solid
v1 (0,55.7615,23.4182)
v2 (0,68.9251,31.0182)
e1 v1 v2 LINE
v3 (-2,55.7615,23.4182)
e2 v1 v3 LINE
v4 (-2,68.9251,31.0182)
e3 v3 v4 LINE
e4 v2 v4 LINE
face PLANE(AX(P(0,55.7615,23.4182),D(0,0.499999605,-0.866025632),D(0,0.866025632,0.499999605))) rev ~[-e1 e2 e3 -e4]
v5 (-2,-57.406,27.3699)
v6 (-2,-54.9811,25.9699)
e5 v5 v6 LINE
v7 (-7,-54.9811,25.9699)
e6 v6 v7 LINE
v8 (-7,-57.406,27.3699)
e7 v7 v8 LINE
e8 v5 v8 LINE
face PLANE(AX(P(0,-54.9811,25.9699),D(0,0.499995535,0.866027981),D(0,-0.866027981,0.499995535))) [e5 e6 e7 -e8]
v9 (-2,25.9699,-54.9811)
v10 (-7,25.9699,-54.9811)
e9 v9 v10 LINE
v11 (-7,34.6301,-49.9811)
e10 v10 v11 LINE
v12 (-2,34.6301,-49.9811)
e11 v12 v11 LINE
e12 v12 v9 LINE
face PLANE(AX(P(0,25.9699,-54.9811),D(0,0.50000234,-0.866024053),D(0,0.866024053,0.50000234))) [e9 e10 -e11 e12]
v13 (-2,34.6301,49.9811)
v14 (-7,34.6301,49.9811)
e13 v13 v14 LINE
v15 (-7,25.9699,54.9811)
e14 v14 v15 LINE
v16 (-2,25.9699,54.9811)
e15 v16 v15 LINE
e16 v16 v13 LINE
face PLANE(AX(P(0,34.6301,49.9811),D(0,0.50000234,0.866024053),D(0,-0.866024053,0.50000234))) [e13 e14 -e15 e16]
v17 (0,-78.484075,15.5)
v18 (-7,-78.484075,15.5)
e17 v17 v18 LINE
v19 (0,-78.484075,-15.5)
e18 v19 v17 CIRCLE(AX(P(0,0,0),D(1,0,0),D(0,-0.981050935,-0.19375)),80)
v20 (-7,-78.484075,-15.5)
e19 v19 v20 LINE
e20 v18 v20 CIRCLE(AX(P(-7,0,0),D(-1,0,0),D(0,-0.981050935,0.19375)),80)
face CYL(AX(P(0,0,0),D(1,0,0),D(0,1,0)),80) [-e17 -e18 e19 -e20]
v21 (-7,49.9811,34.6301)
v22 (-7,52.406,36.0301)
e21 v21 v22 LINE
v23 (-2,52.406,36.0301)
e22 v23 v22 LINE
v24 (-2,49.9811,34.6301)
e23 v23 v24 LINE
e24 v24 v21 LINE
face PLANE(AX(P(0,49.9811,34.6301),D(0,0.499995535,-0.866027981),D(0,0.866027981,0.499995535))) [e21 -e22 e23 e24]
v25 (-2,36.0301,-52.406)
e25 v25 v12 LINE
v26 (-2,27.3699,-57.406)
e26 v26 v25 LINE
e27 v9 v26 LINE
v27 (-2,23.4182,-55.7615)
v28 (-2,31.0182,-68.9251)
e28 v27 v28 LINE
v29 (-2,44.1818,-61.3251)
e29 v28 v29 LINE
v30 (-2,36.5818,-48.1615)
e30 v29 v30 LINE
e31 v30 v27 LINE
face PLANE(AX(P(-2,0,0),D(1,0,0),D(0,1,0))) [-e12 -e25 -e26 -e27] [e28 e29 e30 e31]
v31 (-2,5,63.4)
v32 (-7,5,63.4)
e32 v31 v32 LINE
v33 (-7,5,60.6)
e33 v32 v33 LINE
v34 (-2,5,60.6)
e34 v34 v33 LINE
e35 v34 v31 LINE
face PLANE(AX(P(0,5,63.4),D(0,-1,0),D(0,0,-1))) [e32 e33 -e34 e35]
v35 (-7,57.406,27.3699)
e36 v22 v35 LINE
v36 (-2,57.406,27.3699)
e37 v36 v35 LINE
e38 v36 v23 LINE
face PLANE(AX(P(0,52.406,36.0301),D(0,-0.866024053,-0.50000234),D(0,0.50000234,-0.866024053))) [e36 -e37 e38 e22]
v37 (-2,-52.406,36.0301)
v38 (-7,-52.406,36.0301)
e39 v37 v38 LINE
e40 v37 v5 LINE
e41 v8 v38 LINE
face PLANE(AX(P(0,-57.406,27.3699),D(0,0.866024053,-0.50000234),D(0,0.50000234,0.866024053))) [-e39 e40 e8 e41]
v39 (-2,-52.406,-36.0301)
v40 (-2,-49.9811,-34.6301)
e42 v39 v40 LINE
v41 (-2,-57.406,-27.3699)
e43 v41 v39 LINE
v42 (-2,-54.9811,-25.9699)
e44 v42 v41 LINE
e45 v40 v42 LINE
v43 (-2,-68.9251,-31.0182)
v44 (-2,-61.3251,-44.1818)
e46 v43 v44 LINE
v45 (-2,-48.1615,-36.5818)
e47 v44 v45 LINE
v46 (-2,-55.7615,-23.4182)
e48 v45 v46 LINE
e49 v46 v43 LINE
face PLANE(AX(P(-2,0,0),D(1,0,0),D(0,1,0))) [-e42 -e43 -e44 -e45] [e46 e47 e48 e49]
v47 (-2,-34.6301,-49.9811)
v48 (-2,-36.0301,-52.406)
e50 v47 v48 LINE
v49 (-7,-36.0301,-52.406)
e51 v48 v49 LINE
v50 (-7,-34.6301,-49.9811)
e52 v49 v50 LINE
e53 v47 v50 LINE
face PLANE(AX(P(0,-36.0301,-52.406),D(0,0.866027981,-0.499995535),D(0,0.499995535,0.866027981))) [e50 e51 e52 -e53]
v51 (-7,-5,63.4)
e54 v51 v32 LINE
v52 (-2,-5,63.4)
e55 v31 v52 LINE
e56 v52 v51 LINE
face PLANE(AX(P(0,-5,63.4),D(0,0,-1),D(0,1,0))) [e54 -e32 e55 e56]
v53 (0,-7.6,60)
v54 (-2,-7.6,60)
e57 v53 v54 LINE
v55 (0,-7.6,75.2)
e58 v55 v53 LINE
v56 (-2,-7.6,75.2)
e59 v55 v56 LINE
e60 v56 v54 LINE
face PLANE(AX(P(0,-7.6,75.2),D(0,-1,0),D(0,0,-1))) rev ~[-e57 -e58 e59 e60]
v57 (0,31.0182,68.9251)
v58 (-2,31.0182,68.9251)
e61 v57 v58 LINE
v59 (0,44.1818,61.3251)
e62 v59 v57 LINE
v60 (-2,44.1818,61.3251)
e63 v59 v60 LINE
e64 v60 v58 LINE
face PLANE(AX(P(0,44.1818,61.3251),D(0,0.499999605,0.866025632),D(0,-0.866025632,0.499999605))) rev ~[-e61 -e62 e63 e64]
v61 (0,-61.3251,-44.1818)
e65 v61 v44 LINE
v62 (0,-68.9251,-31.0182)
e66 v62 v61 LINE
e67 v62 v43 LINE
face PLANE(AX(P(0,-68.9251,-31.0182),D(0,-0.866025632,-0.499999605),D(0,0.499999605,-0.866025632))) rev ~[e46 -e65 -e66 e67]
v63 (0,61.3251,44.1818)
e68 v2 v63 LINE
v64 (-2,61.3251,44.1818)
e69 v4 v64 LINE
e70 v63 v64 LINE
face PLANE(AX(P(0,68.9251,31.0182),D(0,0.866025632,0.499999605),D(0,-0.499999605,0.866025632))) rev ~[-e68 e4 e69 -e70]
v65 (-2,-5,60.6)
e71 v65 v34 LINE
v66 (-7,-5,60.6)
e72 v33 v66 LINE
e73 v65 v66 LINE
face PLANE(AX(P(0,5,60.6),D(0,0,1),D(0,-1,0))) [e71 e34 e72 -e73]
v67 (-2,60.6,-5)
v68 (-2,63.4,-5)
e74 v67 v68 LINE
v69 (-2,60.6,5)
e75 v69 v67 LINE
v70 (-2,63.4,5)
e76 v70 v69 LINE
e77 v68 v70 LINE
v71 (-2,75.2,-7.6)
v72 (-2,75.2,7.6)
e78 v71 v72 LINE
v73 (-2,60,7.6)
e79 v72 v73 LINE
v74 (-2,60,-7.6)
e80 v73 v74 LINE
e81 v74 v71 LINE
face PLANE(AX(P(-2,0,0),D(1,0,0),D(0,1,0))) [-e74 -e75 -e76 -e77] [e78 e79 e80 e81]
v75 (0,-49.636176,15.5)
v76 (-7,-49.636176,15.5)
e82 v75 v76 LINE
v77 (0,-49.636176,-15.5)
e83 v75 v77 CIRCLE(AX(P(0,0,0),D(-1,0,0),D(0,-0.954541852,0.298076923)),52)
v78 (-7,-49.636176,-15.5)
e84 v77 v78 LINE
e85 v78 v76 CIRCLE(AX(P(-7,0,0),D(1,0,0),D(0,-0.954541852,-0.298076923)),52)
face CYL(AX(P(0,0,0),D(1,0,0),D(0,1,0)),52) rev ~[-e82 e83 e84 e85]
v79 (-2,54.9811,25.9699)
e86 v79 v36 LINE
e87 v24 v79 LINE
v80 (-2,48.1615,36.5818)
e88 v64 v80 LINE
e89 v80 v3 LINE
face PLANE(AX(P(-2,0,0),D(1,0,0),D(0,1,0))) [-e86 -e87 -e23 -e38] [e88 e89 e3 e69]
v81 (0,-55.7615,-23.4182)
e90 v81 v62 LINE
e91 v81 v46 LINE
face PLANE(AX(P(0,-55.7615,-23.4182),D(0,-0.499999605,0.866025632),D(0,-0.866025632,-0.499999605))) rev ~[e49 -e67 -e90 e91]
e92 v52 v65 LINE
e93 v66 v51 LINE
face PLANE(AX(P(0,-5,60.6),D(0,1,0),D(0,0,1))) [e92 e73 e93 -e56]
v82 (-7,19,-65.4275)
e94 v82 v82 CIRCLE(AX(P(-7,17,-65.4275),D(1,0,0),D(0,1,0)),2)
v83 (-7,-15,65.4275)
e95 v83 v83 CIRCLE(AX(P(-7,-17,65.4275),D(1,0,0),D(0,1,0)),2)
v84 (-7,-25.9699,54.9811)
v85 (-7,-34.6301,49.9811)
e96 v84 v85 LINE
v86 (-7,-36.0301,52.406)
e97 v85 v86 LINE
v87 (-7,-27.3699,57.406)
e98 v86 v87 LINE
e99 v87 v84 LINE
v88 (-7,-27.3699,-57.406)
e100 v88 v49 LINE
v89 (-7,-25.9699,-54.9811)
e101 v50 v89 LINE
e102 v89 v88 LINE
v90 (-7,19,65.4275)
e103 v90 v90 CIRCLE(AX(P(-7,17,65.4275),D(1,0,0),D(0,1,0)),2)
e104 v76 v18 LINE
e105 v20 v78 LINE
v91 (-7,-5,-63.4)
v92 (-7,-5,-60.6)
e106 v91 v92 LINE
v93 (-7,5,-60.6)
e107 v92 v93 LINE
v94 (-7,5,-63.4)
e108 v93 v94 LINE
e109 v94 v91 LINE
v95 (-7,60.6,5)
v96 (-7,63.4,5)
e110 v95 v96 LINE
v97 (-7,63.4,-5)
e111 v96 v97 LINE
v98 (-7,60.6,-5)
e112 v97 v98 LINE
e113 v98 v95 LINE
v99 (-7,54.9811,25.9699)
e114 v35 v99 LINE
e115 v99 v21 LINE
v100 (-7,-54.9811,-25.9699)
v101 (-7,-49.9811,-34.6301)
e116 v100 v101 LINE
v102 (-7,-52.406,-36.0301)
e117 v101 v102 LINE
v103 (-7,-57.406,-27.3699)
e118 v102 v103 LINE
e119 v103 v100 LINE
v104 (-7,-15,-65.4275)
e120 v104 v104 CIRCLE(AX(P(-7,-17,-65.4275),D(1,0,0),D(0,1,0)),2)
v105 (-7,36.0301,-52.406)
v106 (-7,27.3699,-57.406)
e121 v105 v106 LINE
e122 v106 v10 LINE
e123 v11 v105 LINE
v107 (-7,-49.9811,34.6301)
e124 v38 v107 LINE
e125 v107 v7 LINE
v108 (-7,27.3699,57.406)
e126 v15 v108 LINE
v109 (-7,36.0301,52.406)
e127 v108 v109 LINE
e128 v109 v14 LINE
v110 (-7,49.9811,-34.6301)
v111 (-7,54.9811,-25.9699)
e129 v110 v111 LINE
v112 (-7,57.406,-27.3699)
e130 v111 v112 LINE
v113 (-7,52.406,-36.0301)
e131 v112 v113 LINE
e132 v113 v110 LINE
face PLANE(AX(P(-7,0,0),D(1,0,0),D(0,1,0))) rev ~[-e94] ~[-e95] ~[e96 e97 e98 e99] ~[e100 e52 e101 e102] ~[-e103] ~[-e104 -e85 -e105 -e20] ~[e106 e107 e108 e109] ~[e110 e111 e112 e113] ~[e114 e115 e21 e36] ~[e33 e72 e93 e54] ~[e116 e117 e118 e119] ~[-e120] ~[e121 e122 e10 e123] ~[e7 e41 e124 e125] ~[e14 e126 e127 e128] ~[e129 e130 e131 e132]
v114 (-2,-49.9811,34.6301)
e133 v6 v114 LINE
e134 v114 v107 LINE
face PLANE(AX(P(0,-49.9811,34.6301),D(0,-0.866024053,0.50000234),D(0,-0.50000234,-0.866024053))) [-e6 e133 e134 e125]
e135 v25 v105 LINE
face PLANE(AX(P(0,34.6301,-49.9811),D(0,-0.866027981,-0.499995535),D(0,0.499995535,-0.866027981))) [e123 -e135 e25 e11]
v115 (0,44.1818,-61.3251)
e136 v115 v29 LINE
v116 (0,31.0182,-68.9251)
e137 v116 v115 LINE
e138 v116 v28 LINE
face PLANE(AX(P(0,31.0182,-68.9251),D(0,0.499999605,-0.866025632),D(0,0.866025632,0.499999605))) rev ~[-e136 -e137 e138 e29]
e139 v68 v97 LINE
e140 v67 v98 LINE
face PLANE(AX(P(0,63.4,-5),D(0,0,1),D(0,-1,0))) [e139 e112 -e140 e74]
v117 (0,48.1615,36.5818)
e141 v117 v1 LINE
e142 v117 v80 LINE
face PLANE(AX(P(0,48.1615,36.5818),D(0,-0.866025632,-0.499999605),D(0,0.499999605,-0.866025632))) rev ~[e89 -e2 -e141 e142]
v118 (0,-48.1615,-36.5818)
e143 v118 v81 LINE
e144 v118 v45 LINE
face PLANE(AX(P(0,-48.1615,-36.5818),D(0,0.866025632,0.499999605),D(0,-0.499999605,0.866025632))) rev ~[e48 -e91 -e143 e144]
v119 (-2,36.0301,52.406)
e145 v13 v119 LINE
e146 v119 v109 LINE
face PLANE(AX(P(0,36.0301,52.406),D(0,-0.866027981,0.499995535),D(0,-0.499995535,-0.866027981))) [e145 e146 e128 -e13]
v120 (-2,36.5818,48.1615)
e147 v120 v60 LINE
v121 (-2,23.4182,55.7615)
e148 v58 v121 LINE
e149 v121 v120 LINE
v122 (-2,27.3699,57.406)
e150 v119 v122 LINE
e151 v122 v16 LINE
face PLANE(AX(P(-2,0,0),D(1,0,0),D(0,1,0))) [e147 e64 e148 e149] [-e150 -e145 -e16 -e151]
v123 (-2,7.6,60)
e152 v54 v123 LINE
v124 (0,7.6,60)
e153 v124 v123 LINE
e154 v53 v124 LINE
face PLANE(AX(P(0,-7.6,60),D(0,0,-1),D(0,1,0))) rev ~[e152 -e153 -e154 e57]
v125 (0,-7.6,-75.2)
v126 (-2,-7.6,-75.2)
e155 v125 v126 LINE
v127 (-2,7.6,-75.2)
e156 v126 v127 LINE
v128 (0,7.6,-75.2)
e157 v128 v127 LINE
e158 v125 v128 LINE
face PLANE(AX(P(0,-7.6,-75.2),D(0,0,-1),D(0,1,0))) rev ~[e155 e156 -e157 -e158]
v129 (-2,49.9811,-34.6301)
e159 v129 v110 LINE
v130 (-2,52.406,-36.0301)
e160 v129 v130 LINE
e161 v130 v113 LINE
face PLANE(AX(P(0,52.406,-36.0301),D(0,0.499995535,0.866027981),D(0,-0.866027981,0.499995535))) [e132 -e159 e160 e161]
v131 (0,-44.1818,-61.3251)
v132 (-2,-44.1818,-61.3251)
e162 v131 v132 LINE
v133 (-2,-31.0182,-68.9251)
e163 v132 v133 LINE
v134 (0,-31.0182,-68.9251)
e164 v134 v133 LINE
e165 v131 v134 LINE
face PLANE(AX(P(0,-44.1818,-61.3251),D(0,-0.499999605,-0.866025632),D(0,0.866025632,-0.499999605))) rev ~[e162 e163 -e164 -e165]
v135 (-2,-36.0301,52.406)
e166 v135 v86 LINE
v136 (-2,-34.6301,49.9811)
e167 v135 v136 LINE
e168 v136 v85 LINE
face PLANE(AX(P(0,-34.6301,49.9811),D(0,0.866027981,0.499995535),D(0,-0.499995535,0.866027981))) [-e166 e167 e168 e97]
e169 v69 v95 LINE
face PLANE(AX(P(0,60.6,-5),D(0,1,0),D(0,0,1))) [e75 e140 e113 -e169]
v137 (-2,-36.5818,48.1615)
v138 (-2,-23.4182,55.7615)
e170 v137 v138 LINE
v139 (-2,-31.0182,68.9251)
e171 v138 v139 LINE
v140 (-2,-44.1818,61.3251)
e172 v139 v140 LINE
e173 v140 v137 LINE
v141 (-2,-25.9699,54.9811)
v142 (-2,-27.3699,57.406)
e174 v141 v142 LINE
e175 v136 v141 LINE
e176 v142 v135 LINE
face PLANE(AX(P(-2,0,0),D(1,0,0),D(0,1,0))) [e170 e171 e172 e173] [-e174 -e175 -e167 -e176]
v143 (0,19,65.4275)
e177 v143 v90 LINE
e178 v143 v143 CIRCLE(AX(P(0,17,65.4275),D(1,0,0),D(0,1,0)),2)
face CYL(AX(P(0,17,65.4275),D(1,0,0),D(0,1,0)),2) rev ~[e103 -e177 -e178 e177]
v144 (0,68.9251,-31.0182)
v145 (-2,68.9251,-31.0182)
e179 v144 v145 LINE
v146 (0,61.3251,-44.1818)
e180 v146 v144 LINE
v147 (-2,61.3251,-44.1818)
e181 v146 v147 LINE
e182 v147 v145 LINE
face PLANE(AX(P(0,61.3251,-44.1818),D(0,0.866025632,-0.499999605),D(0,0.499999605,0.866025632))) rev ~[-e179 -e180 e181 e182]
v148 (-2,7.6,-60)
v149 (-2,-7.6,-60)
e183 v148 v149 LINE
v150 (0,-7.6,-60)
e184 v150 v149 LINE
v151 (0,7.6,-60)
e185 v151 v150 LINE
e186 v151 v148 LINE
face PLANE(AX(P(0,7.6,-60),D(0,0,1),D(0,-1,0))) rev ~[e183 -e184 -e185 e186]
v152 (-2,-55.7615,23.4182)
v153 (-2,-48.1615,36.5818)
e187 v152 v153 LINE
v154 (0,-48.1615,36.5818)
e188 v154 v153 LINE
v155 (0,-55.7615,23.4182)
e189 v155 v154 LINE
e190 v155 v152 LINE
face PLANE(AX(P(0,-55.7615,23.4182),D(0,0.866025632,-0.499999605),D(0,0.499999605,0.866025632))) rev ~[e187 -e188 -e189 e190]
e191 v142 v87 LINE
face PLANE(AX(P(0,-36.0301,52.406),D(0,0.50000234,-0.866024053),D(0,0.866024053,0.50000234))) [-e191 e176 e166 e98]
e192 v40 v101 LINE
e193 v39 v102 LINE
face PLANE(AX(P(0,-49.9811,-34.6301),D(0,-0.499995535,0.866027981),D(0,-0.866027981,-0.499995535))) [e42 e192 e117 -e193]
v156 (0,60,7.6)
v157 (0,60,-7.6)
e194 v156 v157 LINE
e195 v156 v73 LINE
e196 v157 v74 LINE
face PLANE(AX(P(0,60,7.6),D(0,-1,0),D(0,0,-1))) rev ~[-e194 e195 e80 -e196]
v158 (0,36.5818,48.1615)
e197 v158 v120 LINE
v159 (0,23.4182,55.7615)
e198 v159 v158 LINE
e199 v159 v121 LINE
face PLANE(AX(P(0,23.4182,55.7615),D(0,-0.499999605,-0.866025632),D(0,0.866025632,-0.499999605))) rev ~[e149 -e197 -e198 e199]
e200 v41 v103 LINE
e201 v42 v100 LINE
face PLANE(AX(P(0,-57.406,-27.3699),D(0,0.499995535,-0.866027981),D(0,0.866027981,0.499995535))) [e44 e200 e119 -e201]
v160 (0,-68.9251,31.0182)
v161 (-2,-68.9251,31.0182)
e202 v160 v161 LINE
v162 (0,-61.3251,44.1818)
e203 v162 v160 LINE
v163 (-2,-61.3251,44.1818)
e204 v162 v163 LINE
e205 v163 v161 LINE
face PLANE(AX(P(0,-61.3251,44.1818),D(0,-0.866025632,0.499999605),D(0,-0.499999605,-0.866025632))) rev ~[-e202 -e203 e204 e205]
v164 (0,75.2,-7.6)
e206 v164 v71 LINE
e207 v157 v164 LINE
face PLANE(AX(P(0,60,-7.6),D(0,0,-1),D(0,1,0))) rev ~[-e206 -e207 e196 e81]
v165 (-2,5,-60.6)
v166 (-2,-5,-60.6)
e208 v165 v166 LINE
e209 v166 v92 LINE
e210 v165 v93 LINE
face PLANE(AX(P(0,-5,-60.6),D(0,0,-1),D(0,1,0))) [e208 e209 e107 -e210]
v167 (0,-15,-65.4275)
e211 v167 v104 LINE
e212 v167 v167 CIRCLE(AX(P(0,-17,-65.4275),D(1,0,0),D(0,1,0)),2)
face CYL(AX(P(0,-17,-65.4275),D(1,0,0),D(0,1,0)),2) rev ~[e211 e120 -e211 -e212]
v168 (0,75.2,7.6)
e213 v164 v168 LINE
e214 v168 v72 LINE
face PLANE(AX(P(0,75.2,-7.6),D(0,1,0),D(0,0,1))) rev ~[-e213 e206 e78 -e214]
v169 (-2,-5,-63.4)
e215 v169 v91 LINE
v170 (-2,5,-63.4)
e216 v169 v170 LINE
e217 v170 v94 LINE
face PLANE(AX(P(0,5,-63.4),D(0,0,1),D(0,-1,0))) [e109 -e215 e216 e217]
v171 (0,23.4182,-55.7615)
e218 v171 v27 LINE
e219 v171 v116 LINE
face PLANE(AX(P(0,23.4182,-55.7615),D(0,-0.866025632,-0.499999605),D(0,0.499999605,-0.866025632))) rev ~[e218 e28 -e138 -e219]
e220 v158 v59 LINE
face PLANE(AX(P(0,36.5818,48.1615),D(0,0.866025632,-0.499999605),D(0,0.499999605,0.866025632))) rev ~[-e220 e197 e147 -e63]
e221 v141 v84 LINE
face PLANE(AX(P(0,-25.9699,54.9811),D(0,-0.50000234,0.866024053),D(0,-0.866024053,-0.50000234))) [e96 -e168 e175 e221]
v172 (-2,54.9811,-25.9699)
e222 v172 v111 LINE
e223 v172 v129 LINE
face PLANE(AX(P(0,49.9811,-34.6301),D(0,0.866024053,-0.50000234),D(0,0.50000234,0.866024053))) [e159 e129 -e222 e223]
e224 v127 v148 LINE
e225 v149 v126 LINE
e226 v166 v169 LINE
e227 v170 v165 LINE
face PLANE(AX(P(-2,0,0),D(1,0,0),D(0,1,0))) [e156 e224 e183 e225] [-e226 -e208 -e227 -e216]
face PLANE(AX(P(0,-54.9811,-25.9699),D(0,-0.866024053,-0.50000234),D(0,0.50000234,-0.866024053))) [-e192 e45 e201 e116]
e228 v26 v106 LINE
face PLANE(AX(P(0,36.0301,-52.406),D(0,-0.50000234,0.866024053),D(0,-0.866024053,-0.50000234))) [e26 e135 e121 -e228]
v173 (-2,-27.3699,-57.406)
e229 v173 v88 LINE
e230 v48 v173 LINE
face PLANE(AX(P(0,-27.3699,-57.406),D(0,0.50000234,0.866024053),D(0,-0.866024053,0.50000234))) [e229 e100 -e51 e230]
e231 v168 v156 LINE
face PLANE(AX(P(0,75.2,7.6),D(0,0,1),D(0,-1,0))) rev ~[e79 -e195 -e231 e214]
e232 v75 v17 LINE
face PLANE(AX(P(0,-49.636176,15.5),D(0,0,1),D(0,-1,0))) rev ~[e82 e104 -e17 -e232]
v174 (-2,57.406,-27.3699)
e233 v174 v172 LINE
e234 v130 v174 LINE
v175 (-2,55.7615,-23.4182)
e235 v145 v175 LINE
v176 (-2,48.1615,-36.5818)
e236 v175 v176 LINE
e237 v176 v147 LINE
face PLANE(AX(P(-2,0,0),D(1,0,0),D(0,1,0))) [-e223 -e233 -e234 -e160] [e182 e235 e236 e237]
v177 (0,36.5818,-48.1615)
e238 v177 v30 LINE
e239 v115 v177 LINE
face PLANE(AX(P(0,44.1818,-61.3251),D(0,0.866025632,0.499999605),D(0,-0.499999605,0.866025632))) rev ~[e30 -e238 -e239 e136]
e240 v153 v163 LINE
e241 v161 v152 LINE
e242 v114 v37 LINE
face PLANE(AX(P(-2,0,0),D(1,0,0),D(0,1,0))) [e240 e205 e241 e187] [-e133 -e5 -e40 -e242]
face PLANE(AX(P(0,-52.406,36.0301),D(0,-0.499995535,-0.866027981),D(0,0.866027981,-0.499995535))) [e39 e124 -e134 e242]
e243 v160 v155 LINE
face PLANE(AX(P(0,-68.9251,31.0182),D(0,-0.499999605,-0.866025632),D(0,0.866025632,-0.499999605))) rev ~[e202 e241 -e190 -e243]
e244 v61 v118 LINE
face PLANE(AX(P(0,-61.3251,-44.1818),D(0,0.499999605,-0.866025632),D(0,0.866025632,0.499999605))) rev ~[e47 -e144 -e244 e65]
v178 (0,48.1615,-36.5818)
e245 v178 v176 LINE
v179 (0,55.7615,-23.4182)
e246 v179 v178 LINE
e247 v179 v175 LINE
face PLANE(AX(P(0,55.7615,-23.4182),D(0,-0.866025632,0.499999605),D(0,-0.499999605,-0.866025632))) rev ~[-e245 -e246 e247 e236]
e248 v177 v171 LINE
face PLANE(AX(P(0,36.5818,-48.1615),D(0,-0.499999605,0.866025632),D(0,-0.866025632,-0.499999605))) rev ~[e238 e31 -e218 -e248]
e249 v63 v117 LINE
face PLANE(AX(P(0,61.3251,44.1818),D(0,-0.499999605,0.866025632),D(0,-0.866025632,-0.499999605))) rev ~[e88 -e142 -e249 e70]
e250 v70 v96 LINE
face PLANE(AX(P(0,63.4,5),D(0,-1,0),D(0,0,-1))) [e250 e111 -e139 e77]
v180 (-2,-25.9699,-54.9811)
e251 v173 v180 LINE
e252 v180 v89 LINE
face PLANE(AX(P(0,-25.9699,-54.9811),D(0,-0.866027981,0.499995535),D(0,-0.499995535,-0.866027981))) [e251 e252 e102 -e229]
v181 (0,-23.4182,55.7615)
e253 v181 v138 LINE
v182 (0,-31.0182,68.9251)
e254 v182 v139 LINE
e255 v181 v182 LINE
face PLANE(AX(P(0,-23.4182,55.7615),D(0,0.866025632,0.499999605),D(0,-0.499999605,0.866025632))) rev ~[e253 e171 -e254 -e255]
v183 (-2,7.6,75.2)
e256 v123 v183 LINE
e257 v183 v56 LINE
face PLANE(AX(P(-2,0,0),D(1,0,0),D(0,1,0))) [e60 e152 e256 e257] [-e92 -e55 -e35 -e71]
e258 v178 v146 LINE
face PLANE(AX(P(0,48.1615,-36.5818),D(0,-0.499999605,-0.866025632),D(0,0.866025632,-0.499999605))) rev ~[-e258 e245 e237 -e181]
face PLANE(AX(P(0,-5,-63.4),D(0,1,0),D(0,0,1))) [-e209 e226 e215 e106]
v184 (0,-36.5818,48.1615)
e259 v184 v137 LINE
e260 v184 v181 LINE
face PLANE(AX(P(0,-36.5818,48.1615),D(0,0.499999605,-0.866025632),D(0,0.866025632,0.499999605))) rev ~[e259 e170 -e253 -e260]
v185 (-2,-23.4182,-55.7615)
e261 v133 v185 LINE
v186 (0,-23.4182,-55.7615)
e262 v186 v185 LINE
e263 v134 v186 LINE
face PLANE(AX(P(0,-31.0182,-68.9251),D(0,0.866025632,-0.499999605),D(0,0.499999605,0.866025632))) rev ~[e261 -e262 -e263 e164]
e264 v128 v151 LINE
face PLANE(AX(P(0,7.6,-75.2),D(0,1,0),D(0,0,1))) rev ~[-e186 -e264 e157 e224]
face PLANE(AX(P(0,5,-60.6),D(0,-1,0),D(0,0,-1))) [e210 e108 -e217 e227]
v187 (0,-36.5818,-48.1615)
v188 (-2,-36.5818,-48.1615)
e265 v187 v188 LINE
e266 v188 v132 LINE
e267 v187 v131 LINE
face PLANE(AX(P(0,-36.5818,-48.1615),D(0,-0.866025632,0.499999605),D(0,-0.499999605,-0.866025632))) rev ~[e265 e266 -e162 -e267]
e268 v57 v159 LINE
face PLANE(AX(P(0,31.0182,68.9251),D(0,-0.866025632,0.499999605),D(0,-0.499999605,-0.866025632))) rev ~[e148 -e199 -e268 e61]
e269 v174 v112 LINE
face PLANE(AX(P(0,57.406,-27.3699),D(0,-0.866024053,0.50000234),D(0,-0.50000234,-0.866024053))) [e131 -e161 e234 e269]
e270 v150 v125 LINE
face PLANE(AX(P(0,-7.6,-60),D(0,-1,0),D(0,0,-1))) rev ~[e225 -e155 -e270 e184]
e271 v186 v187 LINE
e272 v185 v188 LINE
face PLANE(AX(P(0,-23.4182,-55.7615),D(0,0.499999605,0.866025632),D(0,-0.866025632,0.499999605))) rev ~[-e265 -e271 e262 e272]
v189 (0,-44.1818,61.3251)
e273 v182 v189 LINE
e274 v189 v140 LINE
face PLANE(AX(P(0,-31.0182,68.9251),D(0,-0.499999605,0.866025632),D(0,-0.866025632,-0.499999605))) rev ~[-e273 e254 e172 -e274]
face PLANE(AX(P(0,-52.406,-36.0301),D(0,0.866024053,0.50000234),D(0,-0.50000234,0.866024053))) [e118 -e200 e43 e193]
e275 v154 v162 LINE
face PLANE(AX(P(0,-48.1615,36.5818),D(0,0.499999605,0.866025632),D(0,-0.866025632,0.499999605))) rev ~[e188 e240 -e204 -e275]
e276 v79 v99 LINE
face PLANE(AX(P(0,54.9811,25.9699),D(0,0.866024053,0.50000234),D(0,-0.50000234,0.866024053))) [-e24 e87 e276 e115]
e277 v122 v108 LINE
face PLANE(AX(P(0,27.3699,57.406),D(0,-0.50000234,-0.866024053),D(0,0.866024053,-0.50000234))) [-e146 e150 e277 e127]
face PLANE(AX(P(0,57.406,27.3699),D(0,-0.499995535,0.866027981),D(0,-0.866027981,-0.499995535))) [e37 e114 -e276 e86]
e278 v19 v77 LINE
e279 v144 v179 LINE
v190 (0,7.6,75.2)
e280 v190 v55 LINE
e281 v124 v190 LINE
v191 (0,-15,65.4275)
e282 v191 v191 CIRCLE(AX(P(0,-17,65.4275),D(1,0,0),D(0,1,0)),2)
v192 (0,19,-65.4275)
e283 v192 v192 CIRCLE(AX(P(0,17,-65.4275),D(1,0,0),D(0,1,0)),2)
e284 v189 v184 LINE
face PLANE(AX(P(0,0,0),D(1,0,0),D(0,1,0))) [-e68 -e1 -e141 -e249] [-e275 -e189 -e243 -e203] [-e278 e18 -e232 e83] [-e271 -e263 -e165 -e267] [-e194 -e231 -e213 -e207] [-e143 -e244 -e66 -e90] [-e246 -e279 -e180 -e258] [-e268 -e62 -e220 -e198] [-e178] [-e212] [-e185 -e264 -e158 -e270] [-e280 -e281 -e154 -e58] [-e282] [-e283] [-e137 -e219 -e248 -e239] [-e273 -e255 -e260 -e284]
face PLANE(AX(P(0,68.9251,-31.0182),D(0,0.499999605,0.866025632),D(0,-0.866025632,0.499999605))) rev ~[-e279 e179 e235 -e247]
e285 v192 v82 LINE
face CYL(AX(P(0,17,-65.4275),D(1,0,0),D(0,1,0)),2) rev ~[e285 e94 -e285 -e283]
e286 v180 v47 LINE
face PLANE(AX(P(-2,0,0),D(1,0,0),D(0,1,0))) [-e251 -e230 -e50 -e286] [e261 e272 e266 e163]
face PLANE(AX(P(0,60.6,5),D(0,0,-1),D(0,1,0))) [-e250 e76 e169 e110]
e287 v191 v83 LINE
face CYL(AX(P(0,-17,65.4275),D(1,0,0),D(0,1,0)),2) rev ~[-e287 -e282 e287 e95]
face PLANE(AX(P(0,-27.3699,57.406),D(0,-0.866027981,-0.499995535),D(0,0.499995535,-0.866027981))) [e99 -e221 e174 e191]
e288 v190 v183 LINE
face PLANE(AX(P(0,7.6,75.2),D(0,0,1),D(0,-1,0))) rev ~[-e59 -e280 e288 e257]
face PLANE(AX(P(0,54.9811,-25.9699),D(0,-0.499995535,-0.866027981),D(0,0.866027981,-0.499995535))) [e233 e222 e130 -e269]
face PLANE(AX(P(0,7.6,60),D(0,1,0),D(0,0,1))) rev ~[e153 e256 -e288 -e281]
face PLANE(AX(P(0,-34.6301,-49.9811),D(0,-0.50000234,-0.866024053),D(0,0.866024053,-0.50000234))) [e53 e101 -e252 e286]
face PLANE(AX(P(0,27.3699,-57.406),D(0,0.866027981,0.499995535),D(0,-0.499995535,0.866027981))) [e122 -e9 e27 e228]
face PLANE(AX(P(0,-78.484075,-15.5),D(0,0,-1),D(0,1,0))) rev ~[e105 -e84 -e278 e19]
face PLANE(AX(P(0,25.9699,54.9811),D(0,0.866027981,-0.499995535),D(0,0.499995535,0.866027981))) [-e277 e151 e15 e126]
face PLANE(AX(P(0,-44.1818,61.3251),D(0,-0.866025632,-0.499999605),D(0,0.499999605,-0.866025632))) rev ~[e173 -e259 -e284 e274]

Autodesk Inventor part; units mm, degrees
ref_plane "YZ Plane" through (0, 0, 0) normal (1, 0, 0) x (0, 1, 0)
ref_plane "XZ Plane" through (0, 0, 0) normal (0, 1, 0) x (-1, 0, 0)
ref_plane "XY Plane" through (0, 0, 0) normal (0, 0, 1) x (1, 0, 0)
sketch "Szkic1" plane through (0, 0, 0) normal (1, 0, 0) x (0, 1, 0)
  line L0 (0, -112) -> (0, 112) construction
  line L1 (-112, 0) -> (112, 0) construction
  circle A0 centre (0, 0) radius 67.6 construction
  line L2 (75.2, 7.6) -> (60, 7.6)
  line L3 (60, 7.6) -> (60, -7.6)
  line L4 (60, -7.6) -> (75.2, -7.6)
  line L5 (75.2, -7.6) -> (75.2, 7.6)
  line L6 (75.2, 7.6) -> (60, -7.6) construction
  line L7 (60, 7.6) -> (75.2, -7.6) construction
  circle A1 centre (0, 0) radius 80
  line L8 (61.3251, 44.1818) -> (48.1615, 36.5818)
  line L9 (48.1615, 36.5818) -> (55.7615, 23.4182)
  line L10 (55.7615, 23.4182) -> (68.9251, 31.0182)
  line L11 (68.9251, 31.0182) -> (61.3251, 44.1818)
  line L12 (61.3251, 44.1818) -> (55.7615, 23.4182) construction
  line L13 (48.1615, 36.5818) -> (68.9251, 31.0182) construction
  line L14 (31.0182, 68.9251) -> (23.4182, 55.7615)
  line L15 (23.4182, 55.7615) -> (36.5818, 48.1615)
  line L16 (36.5818, 48.1615) -> (44.1818, 61.3251)
  line L17 (44.1818, 61.3251) -> (31.0182, 68.9251)
  line L18 (31.0182, 68.9251) -> (36.5818, 48.1615) construction
  line L19 (23.4182, 55.7615) -> (44.1818, 61.3251) construction
  line L20 (-7.6, 75.2) -> (-7.6, 60)
  line L21 (-7.6, 60) -> (7.6, 60)
  line L22 (7.6, 60) -> (7.6, 75.2)
  line L23 (7.6, 75.2) -> (-7.6, 75.2)
  line L24 (-7.6, 75.2) -> (7.6, 60) construction
  line L25 (-7.6, 60) -> (7.6, 75.2) construction
  line L26 (-44.1818, 61.3251) -> (-36.5818, 48.1615)
  line L27 (-36.5818, 48.1615) -> (-23.4182, 55.7615)
  line L28 (-23.4182, 55.7615) -> (-31.0182, 68.9251)
  line L29 (-31.0182, 68.9251) -> (-44.1818, 61.3251)
  line L30 (-44.1818, 61.3251) -> (-23.4182, 55.7615) construction
  line L31 (-36.5818, 48.1615) -> (-31.0182, 68.9251) construction
  line L32 (-68.9251, 31.0182) -> (-55.7615, 23.4182)
  line L33 (-55.7615, 23.4182) -> (-48.1615, 36.5818)
  line L34 (-48.1615, 36.5818) -> (-61.3251, 44.1818)
  line L35 (-61.3251, 44.1818) -> (-68.9251, 31.0182)
  line L36 (-68.9251, 31.0182) -> (-48.1615, 36.5818) construction
  line L37 (-55.7615, 23.4182) -> (-61.3251, 44.1818) construction
  line L38 (-75.2, -7.6) -> (-60, -7.6) construction
  line L39 (-60, -7.6) -> (-60, 7.6) construction
  line L40 (-60, 7.6) -> (-75.2, 7.6) construction
  line L41 (-75.2, 7.6) -> (-75.2, -7.6) construction
  line L42 (-75.2, -7.6) -> (-60, 7.6) construction
  line L43 (-60, -7.6) -> (-75.2, 7.6) construction
  line L44 (-61.3251, -44.1818) -> (-48.1615, -36.5818)
  line L45 (-48.1615, -36.5818) -> (-55.7615, -23.4182)
  line L46 (-55.7615, -23.4182) -> (-68.9251, -31.0182)
  line L47 (-68.9251, -31.0182) -> (-61.3251, -44.1818)
  line L48 (-61.3251, -44.1818) -> (-55.7615, -23.4182) construction
  line L49 (-48.1615, -36.5818) -> (-68.9251, -31.0182) construction
  line L50 (-31.0182, -68.9251) -> (-23.4182, -55.7615)
  line L51 (-23.4182, -55.7615) -> (-36.5818, -48.1615)
  line L52 (-36.5818, -48.1615) -> (-44.1818, -61.3251)
  line L53 (-44.1818, -61.3251) -> (-31.0182, -68.9251)
  line L54 (-31.0182, -68.9251) -> (-36.5818, -48.1615) construction
  line L55 (-23.4182, -55.7615) -> (-44.1818, -61.3251) construction
  line L56 (7.6, -75.2) -> (7.6, -60)
  line L57 (7.6, -60) -> (-7.6, -60)
  line L58 (-7.6, -60) -> (-7.6, -75.2)
  line L59 (-7.6, -75.2) -> (7.6, -75.2)
  line L60 (7.6, -75.2) -> (-7.6, -60) construction
  line L61 (7.6, -60) -> (-7.6, -75.2) construction
  line L62 (44.1818, -61.3251) -> (36.5818, -48.1615)
  line L63 (36.5818, -48.1615) -> (23.4182, -55.7615)
  line L64 (23.4182, -55.7615) -> (31.0182, -68.9251)
  line L65 (31.0182, -68.9251) -> (44.1818, -61.3251)
  line L66 (44.1818, -61.3251) -> (23.4182, -55.7615) construction
  line L67 (36.5818, -48.1615) -> (31.0182, -68.9251) construction
  line L68 (68.9251, -31.0182) -> (55.7615, -23.4182)
  line L69 (55.7615, -23.4182) -> (48.1615, -36.5818)
  line L70 (48.1615, -36.5818) -> (61.3251, -44.1818)
  line L71 (61.3251, -44.1818) -> (68.9251, -31.0182)
  line L72 (68.9251, -31.0182) -> (48.1615, -36.5818) construction
  line L73 (55.7615, -23.4182) -> (61.3251, -44.1818) construction
  line L74 (0, 15.5) -> (-80, 15.5)
  line L75 (-80, 15.5) -> (-80, -15.5) construction
  line L76 (-80, -15.5) -> (0, -15.5)
  line L77 (0, -15.5) -> (0, 15.5)
  line L78 (0, 15.5) -> (-80, -15.5) construction
  line L79 (-80, 15.5) -> (0, -15.5) construction
  circle A2 centre (0, 0) radius 52
  line L80 (63.4, -5) -> (60.6, -5)
  line L81 (60.6, -5) -> (60.6, 5)
  line L82 (60.6, 5) -> (63.4, 5)
  line L83 (63.4, 5) -> (63.4, -5)
  line L84 (63.4, -5) -> (60.6, 5) construction
  line L85 (60.6, -5) -> (63.4, 5) construction
  line L86 (54.9811, 25.9699) -> (49.9811, 34.6301)
  line L87 (49.9811, 34.6301) -> (52.406, 36.0301)
  line L88 (52.406, 36.0301) -> (57.406, 27.3699)
  line L89 (57.406, 27.3699) -> (49.9811, 34.6301) construction
  line L90 (54.9811, 25.9699) -> (52.406, 36.0301) construction
  line L91 (57.406, 27.3699) -> (54.9811, 25.9699)
  line L92 (34.6301, 49.9811) -> (25.9699, 54.9811)
  line L93 (25.9699, 54.9811) -> (27.3699, 57.406)
  line L94 (27.3699, 57.406) -> (36.0301, 52.406)
  line L95 (36.0301, 52.406) -> (25.9699, 54.9811) construction
  line L96 (34.6301, 49.9811) -> (27.3699, 57.406) construction
  line L97 (36.0301, 52.406) -> (34.6301, 49.9811)
  line L98 (5, 60.6) -> (-5, 60.6)
  line L99 (-5, 60.6) -> (-5, 63.4)
  line L100 (-5, 63.4) -> (5, 63.4)
  line L101 (5, 63.4) -> (-5, 60.6) construction
  line L102 (5, 60.6) -> (-5, 63.4) construction
  line L103 (5, 63.4) -> (5, 60.6)
  line L104 (-25.9699, 54.9811) -> (-34.6301, 49.9811)
  line L105 (-34.6301, 49.9811) -> (-36.0301, 52.406)
  line L106 (-36.0301, 52.406) -> (-27.3699, 57.406)
  line L107 (-27.3699, 57.406) -> (-34.6301, 49.9811) construction
  line L108 (-25.9699, 54.9811) -> (-36.0301, 52.406) construction
  line L109 (-27.3699, 57.406) -> (-25.9699, 54.9811)
  line L110 (-49.9811, 34.6301) -> (-54.9811, 25.9699)
  line L111 (-54.9811, 25.9699) -> (-57.406, 27.3699)
  line L112 (-57.406, 27.3699) -> (-52.406, 36.0301)
  line L113 (-52.406, 36.0301) -> (-54.9811, 25.9699) construction
  line L114 (-49.9811, 34.6301) -> (-57.406, 27.3699) construction
  line L115 (-52.406, 36.0301) -> (-49.9811, 34.6301)
  line L116 (-60.6, 5) -> (-60.6, -5) construction
  line L117 (-60.6, -5) -> (-63.4, -5) construction
  line L118 (-63.4, -5) -> (-63.4, 5) construction
  line L119 (-63.4, 5) -> (-60.6, -5) construction
  line L120 (-60.6, 5) -> (-63.4, -5) construction
  line L121 (-63.4, 5) -> (-60.6, 5) construction
  line L122 (-54.9811, -25.9699) -> (-49.9811, -34.6301)
  line L123 (-49.9811, -34.6301) -> (-52.406, -36.0301)
  line L124 (-52.406, -36.0301) -> (-57.406, -27.3699)
  line L125 (-57.406, -27.3699) -> (-49.9811, -34.6301) construction
  line L126 (-54.9811, -25.9699) -> (-52.406, -36.0301) construction
  line L127 (-57.406, -27.3699) -> (-54.9811, -25.9699)
  line L128 (-34.6301, -49.9811) -> (-25.9699, -54.9811)
  line L129 (-25.9699, -54.9811) -> (-27.3699, -57.406)
  line L130 (-27.3699, -57.406) -> (-36.0301, -52.406)
  line L131 (-36.0301, -52.406) -> (-25.9699, -54.9811) construction
  line L132 (-34.6301, -49.9811) -> (-27.3699, -57.406) construction
  line L133 (-36.0301, -52.406) -> (-34.6301, -49.9811)
  line L134 (-5, -60.6) -> (5, -60.6)
  line L135 (5, -60.6) -> (5, -63.4)
  line L136 (5, -63.4) -> (-5, -63.4)
  line L137 (-5, -63.4) -> (5, -60.6) construction
  line L138 (-5, -60.6) -> (5, -63.4) construction
  line L139 (-5, -63.4) -> (-5, -60.6)
  line L140 (25.9699, -54.9811) -> (34.6301, -49.9811)
  line L141 (34.6301, -49.9811) -> (36.0301, -52.406)
  line L142 (36.0301, -52.406) -> (27.3699, -57.406)
  line L143 (27.3699, -57.406) -> (34.6301, -49.9811) construction
  line L144 (25.9699, -54.9811) -> (36.0301, -52.406) construction
  line L145 (27.3699, -57.406) -> (25.9699, -54.9811)
  line L146 (49.9811, -34.6301) -> (54.9811, -25.9699)
  line L147 (54.9811, -25.9699) -> (57.406, -27.3699)
  line L148 (57.406, -27.3699) -> (52.406, -36.0301)
  line L149 (52.406, -36.0301) -> (54.9811, -25.9699) construction
  line L150 (49.9811, -34.6301) -> (57.406, -27.3699) construction
  line L151 (52.406, -36.0301) -> (49.9811, -34.6301)
  circle A3 centre (-17, 65.4275) radius 2
  circle A4 centre (17, 65.4275) radius 2
  circle A5 centre (-17, -65.4275) radius 2
  circle A6 centre (17, -65.4275) radius 2
  point P0 (67.6, 0)
  point P1 (58.5433, 33.8)
  point P2 (33.8, 58.5433)
  point P3 (0, 67.6)
  point P4 (-33.8, 58.5433)
  point P5 (-58.5433, 33.8)
  point P6 (-67.6, 0)
  point P7 (-58.5433, -33.8)
  point P8 (-33.8, -58.5433)
  point P9 (0, -67.6)
  point P10 (33.8, -58.5433)
  point P11 (58.5433, -33.8)
  point P12 (-40, 0)
  point P13 (-49.6362, 15.5)
  point P14 (-49.6362, -15.5)
  point P15 (-78.4841, -15.5)
  point P16 (-78.4841, 15.5)
  point P17 (62, 0)
  point P18 (0, 0)
  point P19 (53.6936, 31)
  point P20 (31, 53.6936)
  point P21 (0, 62)
  point P22 (-31, 53.6936)
  point P23 (-53.6936, 31)
  point P24 (-62, 0)
  point P25 (-53.6936, -31)
  point P26 (-31, -53.6936)
  point P27 (0, -62)
  point P28 (31, -53.6936)
  point P29 (53.6936, -31)
  dimension "d1" = 15.2
  dimension "d2" = 15.2
  dimension "d3" = 160
  dimension "d6" = 360
  dimension "d8" = 60
  dimension "d13" = 31
  dimension "d14" = 104
  dimension "d15" = 2.8
  dimension "d16" = 10
  dimension "d17" = 62
  dimension "d20" = 360
  dimension "d22" = 4
  dimension "d23" = 17
extrude "Wyciągnięcie proste1" add sketch "Szkic1" against normal blind 7 contours L5 L4 L3 L2 | A1 L76 A2 L74 | L11 L10 L9 L8 | L17 L16 L15 L14 | L23 L22 L21 L20 | L29 L28 L27 L26 | L35 L34 L33 L32 | L47 L46 L45 L44 | L53 L52 L51 L50 | L59 L58 L57 L56 | L65 L64 L63 L62 | L71 L70 L69 L68 picked at (47.2911, 46.9149)
extrude "Wyciągnięcie proste2" cut sketch "Szkic1" against normal blind 2 contours L5 L4 L3 L2 | L11 L10 L9 L8 | L17 L16 L15 L14 | L23 L22 L21 L20 | L29 L28 L27 L26 | L35 L34 L33 L32 | L47 L46 L45 L44 | L53 L52 L51 L50 | L59 L58 L57 L56 | L65 L64 L63 L62 | L71 L70 L69 L68 | L80 L81 L82 L83 | L86 L87 L88 L91 | L92 L93 L94 L97 | L98 L99 L100 L103 | L104 L105 L106 L109 | L110 L111 L112 L115 | L122 L123 L124 L127 | L128 L129 L130 L133 | L134 L135 L136 L139 | L140 L141 L142 L145 | L146 L147 L148 L151
properties part number "uMule-podstawka_czujnikiIR"
